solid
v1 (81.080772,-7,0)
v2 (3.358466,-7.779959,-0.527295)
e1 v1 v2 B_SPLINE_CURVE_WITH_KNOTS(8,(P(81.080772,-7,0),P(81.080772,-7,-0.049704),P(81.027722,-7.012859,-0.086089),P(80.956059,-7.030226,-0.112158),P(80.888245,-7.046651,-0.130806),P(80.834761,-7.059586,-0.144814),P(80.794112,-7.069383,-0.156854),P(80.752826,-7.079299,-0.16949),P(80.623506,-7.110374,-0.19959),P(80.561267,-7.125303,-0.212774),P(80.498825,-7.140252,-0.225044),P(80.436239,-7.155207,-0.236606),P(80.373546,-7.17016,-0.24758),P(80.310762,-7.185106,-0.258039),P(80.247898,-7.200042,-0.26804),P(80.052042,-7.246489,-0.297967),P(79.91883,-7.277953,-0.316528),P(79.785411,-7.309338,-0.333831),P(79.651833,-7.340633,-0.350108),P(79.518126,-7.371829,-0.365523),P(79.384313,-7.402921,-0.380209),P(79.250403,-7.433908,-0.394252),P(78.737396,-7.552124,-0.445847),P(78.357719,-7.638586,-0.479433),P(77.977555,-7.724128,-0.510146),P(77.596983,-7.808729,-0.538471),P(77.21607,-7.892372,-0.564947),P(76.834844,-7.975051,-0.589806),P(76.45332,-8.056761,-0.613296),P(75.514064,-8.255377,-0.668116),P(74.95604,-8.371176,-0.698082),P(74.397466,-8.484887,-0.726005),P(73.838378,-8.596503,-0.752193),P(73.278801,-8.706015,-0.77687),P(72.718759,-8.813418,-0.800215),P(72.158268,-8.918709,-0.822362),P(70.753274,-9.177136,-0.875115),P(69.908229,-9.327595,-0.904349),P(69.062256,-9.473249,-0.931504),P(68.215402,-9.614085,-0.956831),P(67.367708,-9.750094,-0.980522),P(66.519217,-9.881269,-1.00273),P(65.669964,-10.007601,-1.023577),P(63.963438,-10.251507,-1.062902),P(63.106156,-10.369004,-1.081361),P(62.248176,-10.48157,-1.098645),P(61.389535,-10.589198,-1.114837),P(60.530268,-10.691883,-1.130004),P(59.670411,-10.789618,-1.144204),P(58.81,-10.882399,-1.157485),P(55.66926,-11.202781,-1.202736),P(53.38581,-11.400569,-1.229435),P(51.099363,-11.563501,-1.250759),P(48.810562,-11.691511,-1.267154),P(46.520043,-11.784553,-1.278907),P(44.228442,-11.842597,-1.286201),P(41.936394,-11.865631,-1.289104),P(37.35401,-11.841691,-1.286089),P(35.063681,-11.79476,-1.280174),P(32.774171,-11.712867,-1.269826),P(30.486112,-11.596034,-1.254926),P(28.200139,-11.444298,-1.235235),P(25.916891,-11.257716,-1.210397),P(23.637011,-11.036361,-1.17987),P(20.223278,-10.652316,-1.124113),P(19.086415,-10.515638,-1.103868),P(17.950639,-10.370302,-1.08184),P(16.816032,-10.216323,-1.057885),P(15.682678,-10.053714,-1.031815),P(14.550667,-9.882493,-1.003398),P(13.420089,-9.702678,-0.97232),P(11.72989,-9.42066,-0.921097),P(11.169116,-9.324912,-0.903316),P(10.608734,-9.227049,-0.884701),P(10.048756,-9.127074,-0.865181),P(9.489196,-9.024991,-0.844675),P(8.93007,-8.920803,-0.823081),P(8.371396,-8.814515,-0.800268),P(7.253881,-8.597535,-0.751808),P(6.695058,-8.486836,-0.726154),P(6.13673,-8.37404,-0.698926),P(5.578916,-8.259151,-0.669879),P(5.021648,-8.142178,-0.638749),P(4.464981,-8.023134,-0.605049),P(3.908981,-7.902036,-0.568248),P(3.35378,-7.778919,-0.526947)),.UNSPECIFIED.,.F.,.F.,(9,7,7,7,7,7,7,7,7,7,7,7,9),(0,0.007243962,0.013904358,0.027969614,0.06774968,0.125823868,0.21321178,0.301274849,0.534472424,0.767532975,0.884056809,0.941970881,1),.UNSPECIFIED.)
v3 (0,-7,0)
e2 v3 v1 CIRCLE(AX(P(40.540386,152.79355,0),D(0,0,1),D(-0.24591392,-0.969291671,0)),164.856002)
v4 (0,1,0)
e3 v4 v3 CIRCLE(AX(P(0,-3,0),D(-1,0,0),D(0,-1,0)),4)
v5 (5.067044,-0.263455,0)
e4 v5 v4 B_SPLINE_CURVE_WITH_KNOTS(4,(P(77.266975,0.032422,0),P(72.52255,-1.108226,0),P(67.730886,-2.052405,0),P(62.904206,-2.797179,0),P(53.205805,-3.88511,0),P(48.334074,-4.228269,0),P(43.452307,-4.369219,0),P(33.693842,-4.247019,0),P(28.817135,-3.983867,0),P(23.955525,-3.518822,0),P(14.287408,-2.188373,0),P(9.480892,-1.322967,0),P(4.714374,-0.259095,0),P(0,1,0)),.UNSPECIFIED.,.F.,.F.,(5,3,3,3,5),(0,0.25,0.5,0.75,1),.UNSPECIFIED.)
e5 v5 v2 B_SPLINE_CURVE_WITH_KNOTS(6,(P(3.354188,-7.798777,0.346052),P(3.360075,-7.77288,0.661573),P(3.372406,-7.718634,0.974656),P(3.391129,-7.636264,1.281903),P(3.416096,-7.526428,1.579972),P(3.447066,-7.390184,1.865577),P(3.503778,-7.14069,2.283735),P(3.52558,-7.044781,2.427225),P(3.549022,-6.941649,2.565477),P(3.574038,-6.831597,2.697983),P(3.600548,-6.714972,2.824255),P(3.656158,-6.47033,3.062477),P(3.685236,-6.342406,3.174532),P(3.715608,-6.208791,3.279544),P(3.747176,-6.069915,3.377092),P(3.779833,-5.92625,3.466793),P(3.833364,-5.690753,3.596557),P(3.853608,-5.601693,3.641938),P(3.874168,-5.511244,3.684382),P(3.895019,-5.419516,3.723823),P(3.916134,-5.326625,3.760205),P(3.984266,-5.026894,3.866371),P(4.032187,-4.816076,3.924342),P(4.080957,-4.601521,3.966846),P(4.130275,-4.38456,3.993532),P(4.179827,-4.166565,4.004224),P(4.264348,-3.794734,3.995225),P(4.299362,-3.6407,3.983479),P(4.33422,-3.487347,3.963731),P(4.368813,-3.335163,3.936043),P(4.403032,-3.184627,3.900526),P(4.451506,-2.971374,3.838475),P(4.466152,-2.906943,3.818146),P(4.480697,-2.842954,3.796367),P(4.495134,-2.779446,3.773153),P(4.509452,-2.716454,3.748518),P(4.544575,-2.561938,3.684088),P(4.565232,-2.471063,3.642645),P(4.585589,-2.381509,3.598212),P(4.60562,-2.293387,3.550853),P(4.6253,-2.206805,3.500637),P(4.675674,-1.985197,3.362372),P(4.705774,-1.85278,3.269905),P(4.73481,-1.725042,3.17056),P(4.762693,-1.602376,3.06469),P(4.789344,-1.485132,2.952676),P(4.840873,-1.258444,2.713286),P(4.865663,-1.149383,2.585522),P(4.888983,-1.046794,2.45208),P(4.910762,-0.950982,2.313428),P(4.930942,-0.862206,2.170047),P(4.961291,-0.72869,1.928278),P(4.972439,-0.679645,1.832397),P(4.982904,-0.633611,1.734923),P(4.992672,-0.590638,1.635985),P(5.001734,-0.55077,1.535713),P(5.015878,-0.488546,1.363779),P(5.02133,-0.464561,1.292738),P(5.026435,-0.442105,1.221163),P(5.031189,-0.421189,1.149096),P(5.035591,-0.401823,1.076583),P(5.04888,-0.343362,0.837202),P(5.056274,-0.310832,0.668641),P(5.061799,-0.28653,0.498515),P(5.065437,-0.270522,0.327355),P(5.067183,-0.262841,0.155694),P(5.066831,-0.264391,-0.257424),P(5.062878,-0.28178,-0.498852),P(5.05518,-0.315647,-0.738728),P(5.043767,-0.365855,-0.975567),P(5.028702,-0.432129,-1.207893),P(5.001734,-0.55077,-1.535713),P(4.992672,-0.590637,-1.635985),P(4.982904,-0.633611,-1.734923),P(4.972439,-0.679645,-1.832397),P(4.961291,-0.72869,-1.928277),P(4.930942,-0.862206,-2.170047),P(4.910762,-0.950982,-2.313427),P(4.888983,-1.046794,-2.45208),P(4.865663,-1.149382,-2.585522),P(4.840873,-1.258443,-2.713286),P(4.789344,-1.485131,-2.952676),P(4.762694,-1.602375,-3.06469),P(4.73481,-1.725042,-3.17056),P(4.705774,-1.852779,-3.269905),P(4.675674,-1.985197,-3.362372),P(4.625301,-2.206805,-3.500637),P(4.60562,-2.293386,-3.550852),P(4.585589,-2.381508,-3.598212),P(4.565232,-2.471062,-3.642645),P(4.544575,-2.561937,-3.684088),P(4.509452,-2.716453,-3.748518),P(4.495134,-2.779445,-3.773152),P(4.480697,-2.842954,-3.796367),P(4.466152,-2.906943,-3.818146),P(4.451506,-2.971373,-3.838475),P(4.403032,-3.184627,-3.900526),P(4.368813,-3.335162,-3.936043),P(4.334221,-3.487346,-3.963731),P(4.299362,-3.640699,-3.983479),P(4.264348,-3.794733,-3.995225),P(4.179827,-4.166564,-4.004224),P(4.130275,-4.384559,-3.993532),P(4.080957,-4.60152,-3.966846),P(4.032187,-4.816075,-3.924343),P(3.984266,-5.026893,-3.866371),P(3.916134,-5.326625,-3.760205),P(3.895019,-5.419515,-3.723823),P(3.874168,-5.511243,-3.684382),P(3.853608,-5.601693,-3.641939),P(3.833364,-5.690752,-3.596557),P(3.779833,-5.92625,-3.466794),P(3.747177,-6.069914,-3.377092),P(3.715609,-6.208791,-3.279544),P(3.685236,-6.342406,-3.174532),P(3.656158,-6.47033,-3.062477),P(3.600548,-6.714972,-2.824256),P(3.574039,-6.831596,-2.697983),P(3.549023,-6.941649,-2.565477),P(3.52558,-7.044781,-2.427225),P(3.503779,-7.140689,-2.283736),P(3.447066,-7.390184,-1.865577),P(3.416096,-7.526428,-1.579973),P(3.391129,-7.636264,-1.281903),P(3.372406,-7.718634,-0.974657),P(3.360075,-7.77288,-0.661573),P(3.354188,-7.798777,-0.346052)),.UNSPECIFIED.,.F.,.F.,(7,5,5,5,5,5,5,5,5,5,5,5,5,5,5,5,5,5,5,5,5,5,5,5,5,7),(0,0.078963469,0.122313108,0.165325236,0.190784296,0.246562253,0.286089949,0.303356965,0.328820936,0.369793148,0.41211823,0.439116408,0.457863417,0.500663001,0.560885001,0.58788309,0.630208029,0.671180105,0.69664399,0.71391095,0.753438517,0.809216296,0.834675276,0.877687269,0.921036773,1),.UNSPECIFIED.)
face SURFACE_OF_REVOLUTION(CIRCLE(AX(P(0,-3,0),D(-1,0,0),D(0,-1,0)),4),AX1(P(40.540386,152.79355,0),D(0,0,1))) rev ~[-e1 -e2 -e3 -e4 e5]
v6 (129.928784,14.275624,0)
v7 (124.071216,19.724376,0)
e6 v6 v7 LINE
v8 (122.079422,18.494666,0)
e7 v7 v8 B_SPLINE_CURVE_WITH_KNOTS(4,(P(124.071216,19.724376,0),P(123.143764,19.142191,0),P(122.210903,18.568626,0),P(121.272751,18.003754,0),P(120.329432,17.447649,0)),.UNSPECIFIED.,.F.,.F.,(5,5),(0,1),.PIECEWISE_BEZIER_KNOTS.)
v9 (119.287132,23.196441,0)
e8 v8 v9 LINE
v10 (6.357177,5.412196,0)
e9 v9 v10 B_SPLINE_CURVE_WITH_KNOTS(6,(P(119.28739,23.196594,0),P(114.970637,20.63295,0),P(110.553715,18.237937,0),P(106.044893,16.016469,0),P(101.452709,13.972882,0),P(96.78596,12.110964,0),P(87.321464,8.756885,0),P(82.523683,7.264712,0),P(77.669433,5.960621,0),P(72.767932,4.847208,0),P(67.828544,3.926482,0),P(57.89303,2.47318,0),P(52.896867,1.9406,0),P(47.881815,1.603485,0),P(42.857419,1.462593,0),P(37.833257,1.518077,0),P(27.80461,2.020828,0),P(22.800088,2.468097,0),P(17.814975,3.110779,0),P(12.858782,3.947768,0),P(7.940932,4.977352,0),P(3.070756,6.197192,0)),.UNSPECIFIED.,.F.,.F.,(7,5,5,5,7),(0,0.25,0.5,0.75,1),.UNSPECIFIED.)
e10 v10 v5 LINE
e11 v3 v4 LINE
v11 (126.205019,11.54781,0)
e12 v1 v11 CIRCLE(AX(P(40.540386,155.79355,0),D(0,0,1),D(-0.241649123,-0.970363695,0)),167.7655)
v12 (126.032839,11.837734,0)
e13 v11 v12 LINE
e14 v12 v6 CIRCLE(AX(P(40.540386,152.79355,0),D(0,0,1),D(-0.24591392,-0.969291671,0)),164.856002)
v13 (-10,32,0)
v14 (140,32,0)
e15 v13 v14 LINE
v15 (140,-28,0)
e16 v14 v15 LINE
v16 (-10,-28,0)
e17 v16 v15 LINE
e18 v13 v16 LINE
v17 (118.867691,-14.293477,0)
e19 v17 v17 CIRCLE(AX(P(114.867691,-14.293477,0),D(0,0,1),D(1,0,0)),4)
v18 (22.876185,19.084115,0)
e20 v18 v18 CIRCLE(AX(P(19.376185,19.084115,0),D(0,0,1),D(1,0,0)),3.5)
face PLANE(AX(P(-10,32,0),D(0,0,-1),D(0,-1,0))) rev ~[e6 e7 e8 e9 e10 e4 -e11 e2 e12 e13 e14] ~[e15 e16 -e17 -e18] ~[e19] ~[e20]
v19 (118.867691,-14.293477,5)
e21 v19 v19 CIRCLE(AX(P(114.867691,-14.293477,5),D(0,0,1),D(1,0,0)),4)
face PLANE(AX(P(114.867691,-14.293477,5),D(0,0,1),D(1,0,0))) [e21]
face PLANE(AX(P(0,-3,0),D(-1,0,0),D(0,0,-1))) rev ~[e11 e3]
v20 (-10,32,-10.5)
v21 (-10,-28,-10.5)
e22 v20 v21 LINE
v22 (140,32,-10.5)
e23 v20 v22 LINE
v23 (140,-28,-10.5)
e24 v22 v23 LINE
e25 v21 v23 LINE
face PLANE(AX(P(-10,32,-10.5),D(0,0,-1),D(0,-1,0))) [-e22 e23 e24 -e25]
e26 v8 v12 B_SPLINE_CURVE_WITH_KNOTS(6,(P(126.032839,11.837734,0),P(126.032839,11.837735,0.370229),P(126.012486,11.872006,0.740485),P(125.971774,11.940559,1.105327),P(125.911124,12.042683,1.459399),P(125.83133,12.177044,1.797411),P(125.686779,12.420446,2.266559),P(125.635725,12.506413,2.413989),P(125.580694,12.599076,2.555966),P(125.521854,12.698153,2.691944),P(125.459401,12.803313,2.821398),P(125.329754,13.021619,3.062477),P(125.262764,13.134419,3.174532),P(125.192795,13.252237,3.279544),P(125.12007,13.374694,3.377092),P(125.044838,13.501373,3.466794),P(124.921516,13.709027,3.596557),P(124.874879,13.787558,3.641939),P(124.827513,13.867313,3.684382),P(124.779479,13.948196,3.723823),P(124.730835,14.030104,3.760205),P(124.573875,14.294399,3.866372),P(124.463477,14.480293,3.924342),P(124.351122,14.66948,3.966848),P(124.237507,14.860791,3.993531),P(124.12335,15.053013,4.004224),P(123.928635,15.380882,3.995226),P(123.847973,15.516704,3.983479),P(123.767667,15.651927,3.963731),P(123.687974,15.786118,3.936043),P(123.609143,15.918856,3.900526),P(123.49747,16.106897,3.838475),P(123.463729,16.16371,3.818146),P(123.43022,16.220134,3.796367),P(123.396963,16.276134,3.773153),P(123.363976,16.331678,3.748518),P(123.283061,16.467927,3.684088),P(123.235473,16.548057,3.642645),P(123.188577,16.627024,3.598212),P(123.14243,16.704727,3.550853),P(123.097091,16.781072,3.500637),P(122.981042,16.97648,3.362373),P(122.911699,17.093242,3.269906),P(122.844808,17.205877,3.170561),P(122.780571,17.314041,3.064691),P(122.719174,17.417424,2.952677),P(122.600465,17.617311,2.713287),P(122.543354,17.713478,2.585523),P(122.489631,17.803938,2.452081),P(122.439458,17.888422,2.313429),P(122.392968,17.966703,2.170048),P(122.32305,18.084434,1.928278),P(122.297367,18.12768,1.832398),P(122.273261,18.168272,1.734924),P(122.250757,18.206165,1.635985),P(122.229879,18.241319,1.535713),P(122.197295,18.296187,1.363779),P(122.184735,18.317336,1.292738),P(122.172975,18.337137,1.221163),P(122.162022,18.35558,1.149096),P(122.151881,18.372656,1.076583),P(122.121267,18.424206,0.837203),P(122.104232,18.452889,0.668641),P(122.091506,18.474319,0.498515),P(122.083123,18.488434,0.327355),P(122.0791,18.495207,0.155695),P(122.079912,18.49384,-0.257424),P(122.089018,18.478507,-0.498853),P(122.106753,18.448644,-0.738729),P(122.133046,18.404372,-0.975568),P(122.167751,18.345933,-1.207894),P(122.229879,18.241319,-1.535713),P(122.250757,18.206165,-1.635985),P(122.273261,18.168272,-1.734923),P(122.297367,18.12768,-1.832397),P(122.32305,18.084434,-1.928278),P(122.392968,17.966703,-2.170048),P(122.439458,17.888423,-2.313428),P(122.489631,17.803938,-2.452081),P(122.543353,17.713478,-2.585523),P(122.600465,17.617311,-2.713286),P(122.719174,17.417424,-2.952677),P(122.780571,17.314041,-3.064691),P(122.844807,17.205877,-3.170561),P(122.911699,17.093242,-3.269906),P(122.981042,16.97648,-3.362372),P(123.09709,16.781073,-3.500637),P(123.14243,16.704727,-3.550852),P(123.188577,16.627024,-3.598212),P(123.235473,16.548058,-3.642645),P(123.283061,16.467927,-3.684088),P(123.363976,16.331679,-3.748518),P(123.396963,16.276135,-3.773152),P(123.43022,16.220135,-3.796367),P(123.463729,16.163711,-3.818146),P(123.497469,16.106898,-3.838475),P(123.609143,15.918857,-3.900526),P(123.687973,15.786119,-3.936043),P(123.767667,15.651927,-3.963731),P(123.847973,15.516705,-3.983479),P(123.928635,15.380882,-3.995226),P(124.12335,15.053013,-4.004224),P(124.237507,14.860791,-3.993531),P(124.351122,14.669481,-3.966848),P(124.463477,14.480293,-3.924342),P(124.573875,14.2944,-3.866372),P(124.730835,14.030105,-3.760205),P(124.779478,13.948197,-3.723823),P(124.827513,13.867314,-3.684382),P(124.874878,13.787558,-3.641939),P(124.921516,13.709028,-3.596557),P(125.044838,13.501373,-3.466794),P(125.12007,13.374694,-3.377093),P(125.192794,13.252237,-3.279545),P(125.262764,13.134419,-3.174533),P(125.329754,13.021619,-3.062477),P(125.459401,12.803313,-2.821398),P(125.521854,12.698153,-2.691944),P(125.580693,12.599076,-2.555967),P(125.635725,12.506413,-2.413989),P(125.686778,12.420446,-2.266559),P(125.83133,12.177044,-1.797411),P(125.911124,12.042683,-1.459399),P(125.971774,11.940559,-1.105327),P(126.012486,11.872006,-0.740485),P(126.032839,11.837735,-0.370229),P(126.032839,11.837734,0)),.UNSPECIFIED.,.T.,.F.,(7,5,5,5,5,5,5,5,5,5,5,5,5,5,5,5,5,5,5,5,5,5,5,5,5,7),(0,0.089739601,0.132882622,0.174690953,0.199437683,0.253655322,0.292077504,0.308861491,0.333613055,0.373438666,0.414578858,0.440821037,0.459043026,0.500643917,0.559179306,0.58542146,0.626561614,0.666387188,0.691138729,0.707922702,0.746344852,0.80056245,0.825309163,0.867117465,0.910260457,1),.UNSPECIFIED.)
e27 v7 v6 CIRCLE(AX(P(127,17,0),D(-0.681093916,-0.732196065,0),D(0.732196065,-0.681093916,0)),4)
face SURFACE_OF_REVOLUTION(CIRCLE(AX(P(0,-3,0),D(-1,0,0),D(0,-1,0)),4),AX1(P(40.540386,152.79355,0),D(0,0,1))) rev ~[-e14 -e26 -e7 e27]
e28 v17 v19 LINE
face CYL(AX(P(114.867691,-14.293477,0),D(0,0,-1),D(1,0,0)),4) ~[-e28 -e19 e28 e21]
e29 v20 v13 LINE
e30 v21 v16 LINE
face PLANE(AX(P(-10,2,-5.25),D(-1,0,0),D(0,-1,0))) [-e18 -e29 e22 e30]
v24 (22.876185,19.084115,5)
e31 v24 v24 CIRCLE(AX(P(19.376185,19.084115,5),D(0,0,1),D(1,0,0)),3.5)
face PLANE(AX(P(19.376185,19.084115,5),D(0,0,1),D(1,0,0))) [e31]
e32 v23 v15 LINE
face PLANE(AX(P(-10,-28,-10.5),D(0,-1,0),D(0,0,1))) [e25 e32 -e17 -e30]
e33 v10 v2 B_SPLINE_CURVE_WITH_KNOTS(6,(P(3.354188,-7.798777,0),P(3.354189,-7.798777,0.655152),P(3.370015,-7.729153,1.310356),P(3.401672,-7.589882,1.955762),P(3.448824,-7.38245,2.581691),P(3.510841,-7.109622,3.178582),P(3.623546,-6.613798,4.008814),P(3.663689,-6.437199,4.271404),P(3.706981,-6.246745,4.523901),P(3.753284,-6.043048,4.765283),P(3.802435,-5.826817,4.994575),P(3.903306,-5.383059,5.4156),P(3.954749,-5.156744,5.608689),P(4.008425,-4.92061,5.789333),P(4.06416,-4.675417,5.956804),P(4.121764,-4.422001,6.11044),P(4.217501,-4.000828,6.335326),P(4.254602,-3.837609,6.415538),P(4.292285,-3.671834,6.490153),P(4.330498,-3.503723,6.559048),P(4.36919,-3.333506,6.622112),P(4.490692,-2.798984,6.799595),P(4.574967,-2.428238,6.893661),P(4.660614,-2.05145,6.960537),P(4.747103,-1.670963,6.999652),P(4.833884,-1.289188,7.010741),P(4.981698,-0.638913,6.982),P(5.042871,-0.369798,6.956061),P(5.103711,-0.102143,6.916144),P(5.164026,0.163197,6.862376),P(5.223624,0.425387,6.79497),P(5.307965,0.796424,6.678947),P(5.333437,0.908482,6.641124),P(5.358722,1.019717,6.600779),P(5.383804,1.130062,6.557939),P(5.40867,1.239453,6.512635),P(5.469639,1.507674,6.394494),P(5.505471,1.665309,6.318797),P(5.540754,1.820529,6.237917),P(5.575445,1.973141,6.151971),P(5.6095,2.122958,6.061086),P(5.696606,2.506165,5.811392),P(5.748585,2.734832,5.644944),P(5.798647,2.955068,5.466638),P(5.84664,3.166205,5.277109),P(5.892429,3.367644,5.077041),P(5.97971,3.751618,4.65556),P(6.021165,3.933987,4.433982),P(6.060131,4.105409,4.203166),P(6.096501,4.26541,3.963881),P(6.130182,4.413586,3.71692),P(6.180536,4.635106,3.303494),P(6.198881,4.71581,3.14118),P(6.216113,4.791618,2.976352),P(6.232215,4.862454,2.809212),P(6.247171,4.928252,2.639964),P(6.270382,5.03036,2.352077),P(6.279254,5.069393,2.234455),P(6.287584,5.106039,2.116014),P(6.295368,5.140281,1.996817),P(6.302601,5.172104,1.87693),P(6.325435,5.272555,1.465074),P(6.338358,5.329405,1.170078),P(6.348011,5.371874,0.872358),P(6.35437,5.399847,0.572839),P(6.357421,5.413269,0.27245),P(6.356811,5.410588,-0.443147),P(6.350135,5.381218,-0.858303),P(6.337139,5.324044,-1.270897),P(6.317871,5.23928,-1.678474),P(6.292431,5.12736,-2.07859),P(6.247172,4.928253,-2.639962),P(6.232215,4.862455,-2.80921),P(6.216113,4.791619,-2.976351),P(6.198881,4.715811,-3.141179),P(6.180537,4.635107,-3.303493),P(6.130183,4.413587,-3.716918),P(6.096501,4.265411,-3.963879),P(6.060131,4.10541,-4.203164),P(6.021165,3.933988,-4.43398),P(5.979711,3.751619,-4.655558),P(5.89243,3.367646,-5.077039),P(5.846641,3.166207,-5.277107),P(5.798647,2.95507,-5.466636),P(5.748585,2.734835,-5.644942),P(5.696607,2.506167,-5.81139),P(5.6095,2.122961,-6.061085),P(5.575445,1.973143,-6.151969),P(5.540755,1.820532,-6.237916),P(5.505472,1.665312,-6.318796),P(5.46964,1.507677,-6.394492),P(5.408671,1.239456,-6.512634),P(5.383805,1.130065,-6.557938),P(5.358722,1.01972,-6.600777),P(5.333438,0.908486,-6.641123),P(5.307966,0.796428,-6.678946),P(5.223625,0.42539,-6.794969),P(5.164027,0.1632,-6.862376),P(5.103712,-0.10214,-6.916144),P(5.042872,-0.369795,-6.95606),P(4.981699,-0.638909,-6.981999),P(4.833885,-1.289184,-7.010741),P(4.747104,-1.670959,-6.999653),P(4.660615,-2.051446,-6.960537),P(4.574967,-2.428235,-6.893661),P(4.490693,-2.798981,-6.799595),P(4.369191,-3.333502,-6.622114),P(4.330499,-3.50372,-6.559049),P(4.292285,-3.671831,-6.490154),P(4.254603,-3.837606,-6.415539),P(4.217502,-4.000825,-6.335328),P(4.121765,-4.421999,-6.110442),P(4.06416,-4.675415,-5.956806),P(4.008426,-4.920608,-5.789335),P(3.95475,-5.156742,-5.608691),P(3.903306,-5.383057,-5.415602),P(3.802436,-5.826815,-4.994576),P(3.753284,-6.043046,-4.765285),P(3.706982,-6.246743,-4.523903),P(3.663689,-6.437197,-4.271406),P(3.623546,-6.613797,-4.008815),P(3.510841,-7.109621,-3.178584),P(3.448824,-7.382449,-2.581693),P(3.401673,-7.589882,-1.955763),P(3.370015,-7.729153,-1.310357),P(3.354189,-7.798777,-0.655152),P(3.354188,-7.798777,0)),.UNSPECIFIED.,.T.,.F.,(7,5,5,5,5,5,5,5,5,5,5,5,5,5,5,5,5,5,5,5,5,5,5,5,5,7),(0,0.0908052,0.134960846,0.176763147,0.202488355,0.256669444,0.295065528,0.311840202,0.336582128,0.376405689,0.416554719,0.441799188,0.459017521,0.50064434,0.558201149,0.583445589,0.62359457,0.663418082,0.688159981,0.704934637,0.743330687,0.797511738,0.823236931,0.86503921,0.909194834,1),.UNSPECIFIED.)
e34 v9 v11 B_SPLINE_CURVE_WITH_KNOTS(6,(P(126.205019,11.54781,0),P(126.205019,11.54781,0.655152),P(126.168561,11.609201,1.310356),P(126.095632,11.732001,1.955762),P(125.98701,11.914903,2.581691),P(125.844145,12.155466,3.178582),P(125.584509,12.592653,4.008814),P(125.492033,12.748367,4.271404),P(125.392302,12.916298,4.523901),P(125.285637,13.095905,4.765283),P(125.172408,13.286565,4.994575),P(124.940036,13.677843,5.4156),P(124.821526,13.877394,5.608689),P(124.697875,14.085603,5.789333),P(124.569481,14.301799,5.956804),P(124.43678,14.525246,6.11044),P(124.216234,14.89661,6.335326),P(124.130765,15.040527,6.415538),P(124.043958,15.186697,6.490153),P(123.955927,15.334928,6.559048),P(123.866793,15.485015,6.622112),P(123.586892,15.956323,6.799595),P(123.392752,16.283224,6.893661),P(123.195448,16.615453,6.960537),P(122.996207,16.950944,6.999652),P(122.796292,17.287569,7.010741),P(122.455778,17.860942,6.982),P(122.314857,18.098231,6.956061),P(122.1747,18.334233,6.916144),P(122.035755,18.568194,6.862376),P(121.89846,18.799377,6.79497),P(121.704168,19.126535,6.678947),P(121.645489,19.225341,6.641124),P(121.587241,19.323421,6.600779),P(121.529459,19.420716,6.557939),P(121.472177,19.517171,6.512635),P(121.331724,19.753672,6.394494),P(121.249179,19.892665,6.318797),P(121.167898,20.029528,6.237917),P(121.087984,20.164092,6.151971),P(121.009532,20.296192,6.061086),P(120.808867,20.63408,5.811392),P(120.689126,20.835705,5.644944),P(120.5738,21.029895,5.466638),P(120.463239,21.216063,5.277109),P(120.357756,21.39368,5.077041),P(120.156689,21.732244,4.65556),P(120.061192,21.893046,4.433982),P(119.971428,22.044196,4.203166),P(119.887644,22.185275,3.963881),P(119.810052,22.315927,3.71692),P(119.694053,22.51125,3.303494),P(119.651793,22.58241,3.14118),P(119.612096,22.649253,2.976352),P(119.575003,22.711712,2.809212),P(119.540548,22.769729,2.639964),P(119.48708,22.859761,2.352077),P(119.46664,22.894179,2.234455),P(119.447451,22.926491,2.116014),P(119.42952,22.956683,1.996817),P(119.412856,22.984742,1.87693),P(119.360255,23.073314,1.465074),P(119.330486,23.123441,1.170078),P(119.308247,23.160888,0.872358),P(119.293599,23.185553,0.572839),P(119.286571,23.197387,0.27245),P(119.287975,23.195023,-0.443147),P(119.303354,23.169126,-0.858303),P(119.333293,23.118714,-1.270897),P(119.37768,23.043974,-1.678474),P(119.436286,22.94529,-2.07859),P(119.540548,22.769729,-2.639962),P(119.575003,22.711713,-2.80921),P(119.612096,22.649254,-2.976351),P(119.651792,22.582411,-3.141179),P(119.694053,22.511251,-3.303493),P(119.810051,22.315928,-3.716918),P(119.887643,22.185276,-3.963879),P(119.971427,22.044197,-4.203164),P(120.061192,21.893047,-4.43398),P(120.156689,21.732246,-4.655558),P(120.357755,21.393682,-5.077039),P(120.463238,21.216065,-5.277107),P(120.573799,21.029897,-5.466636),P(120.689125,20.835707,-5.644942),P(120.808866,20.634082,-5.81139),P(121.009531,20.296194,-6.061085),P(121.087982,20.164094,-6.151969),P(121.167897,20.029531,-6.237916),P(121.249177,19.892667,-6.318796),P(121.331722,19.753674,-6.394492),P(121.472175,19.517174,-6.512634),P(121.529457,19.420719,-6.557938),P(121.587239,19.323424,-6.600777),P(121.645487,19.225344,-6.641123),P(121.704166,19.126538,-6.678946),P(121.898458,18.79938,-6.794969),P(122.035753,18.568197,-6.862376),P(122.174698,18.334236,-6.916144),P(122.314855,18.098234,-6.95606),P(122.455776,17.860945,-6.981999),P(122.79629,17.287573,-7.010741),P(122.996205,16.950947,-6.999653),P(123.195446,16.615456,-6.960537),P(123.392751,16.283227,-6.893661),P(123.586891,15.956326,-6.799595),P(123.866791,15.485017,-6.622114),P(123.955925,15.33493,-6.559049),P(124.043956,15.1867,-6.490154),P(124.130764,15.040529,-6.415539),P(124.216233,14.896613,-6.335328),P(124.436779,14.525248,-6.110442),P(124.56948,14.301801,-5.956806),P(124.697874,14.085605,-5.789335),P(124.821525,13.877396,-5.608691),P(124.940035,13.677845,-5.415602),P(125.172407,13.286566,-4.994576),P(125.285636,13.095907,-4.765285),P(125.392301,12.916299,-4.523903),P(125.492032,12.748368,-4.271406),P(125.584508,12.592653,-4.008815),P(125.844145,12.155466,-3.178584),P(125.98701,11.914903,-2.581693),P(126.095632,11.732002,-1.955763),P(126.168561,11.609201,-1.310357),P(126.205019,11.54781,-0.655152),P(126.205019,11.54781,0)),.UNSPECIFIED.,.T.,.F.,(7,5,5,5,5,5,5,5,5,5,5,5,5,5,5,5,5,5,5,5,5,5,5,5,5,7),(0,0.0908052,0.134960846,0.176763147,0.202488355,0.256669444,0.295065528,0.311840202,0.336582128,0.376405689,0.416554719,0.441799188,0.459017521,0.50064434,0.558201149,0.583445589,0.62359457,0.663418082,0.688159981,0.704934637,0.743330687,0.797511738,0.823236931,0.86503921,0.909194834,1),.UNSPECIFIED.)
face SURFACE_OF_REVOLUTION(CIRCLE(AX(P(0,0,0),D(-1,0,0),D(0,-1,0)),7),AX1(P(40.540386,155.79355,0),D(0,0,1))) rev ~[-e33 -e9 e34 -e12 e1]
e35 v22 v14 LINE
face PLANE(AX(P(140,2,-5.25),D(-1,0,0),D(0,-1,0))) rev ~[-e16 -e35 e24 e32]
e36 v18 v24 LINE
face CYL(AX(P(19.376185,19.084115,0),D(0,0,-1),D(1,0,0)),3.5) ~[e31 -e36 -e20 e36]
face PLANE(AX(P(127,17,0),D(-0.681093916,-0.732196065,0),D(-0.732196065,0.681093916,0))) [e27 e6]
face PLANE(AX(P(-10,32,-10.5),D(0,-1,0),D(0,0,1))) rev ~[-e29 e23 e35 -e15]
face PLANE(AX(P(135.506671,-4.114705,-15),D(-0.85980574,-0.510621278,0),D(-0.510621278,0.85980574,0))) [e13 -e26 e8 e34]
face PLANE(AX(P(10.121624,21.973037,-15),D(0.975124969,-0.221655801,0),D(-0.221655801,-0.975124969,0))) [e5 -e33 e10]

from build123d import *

# Parameters (mm, degrees)
SKETCH042_R      = 4
EXTRUDE025_DEPTH = 30
SKETCH040_R      = 7
SKETCH044_W      = 60
SKETCH044_H      = 10.5
EXTRUDE027_DEPTH = 150
SKETCH046_R      = 3.5
SKETCH046_R_2    = 4
EXTRUDE029_DEPTH = 5


with BuildPart() as sweep011:
    # Sweep011: sweep along a path in Sketch
    with BuildLine(Plane.XY) as sweep011_path:
        ThreePointArc((0, 0), (65.583227, -3.22849), (127, 20))
    # Sketch042 → Sweep011 (sweep)
    with BuildSketch(Plane(origin=(0, 0, 0), x_dir=(0, -1, 0), z_dir=(-1, 0, 0))):
        Circle(SKETCH042_R)
    sweep(path=sweep011_path.line)


with BuildPart() as sweep011_1:
    # Sweep011 placement: moved
    add(sweep011.part.moved(Location((0, -3, 0))))


with BuildPart() as extrude025:
    # Sketch041 → Extrude025 (new body)
    with BuildSketch(Plane.XY.offset(-15)):
        Polygon((-8.268976, 21.973037), (10.121624, 21.973037), (-0.555824, -25), (-25.401805, -25), align=None)
        Polygon((105.81268, 45.885295), (155.276998, 45.885295), (207.473539, -4.114705), (135.506671, -4.114705), align=None)
    extrude(amount=EXTRUDE025_DEPTH)


with BuildPart() as motor_tube_outer003:
    # Sweep009: sweep along a path in Sketch
    with BuildLine(Plane.XY) as sweep009_path:
        ThreePointArc((0, 0), (65.583227, -3.22849), (127, 20))
    # Sketch040 → Sweep009 (sweep)
    with BuildSketch(Plane(origin=(0, 0, 0), x_dir=(0, -1, 0), z_dir=(-1, 0, 0))):
        Circle(SKETCH040_R)
    sweep(path=sweep009_path.line)

    # Cut010: cut Extrude025
    add(extrude025.part, mode=Mode.SUBTRACT)

    # Fusion010: union Sweep011
    add(sweep011_1.part)


with BuildPart() as cut013:
    # Sketch044 → Extrude027 (new body)
    with BuildSketch(Plane(origin=(-10, 0, 0), x_dir=(0, -1, 0), z_dir=(-1, 0, 0))):
        with Locations((-2, -5.25)):
            Rectangle(SKETCH044_W, SKETCH044_H)
    extrude(amount=-EXTRUDE027_DEPTH)

    # Cut013: cut Motor Tube Outer003
    add(motor_tube_outer003.part, mode=Mode.SUBTRACT)


with BuildPart() as motor_mold_bottom:
    # Sketch046 → Extrude029 (new body)
    with BuildSketch(Plane.XY):
        with Locations((19.376185, 19.084115)):
            Circle(SKETCH046_R)
        with Locations((114.867691, -14.293477)):
            Circle(SKETCH046_R_2)
    extrude(amount=EXTRUDE029_DEPTH)

    # Fusion013: union Cut013
    add(cut013.part)


solid = motor_mold_bottom.part
